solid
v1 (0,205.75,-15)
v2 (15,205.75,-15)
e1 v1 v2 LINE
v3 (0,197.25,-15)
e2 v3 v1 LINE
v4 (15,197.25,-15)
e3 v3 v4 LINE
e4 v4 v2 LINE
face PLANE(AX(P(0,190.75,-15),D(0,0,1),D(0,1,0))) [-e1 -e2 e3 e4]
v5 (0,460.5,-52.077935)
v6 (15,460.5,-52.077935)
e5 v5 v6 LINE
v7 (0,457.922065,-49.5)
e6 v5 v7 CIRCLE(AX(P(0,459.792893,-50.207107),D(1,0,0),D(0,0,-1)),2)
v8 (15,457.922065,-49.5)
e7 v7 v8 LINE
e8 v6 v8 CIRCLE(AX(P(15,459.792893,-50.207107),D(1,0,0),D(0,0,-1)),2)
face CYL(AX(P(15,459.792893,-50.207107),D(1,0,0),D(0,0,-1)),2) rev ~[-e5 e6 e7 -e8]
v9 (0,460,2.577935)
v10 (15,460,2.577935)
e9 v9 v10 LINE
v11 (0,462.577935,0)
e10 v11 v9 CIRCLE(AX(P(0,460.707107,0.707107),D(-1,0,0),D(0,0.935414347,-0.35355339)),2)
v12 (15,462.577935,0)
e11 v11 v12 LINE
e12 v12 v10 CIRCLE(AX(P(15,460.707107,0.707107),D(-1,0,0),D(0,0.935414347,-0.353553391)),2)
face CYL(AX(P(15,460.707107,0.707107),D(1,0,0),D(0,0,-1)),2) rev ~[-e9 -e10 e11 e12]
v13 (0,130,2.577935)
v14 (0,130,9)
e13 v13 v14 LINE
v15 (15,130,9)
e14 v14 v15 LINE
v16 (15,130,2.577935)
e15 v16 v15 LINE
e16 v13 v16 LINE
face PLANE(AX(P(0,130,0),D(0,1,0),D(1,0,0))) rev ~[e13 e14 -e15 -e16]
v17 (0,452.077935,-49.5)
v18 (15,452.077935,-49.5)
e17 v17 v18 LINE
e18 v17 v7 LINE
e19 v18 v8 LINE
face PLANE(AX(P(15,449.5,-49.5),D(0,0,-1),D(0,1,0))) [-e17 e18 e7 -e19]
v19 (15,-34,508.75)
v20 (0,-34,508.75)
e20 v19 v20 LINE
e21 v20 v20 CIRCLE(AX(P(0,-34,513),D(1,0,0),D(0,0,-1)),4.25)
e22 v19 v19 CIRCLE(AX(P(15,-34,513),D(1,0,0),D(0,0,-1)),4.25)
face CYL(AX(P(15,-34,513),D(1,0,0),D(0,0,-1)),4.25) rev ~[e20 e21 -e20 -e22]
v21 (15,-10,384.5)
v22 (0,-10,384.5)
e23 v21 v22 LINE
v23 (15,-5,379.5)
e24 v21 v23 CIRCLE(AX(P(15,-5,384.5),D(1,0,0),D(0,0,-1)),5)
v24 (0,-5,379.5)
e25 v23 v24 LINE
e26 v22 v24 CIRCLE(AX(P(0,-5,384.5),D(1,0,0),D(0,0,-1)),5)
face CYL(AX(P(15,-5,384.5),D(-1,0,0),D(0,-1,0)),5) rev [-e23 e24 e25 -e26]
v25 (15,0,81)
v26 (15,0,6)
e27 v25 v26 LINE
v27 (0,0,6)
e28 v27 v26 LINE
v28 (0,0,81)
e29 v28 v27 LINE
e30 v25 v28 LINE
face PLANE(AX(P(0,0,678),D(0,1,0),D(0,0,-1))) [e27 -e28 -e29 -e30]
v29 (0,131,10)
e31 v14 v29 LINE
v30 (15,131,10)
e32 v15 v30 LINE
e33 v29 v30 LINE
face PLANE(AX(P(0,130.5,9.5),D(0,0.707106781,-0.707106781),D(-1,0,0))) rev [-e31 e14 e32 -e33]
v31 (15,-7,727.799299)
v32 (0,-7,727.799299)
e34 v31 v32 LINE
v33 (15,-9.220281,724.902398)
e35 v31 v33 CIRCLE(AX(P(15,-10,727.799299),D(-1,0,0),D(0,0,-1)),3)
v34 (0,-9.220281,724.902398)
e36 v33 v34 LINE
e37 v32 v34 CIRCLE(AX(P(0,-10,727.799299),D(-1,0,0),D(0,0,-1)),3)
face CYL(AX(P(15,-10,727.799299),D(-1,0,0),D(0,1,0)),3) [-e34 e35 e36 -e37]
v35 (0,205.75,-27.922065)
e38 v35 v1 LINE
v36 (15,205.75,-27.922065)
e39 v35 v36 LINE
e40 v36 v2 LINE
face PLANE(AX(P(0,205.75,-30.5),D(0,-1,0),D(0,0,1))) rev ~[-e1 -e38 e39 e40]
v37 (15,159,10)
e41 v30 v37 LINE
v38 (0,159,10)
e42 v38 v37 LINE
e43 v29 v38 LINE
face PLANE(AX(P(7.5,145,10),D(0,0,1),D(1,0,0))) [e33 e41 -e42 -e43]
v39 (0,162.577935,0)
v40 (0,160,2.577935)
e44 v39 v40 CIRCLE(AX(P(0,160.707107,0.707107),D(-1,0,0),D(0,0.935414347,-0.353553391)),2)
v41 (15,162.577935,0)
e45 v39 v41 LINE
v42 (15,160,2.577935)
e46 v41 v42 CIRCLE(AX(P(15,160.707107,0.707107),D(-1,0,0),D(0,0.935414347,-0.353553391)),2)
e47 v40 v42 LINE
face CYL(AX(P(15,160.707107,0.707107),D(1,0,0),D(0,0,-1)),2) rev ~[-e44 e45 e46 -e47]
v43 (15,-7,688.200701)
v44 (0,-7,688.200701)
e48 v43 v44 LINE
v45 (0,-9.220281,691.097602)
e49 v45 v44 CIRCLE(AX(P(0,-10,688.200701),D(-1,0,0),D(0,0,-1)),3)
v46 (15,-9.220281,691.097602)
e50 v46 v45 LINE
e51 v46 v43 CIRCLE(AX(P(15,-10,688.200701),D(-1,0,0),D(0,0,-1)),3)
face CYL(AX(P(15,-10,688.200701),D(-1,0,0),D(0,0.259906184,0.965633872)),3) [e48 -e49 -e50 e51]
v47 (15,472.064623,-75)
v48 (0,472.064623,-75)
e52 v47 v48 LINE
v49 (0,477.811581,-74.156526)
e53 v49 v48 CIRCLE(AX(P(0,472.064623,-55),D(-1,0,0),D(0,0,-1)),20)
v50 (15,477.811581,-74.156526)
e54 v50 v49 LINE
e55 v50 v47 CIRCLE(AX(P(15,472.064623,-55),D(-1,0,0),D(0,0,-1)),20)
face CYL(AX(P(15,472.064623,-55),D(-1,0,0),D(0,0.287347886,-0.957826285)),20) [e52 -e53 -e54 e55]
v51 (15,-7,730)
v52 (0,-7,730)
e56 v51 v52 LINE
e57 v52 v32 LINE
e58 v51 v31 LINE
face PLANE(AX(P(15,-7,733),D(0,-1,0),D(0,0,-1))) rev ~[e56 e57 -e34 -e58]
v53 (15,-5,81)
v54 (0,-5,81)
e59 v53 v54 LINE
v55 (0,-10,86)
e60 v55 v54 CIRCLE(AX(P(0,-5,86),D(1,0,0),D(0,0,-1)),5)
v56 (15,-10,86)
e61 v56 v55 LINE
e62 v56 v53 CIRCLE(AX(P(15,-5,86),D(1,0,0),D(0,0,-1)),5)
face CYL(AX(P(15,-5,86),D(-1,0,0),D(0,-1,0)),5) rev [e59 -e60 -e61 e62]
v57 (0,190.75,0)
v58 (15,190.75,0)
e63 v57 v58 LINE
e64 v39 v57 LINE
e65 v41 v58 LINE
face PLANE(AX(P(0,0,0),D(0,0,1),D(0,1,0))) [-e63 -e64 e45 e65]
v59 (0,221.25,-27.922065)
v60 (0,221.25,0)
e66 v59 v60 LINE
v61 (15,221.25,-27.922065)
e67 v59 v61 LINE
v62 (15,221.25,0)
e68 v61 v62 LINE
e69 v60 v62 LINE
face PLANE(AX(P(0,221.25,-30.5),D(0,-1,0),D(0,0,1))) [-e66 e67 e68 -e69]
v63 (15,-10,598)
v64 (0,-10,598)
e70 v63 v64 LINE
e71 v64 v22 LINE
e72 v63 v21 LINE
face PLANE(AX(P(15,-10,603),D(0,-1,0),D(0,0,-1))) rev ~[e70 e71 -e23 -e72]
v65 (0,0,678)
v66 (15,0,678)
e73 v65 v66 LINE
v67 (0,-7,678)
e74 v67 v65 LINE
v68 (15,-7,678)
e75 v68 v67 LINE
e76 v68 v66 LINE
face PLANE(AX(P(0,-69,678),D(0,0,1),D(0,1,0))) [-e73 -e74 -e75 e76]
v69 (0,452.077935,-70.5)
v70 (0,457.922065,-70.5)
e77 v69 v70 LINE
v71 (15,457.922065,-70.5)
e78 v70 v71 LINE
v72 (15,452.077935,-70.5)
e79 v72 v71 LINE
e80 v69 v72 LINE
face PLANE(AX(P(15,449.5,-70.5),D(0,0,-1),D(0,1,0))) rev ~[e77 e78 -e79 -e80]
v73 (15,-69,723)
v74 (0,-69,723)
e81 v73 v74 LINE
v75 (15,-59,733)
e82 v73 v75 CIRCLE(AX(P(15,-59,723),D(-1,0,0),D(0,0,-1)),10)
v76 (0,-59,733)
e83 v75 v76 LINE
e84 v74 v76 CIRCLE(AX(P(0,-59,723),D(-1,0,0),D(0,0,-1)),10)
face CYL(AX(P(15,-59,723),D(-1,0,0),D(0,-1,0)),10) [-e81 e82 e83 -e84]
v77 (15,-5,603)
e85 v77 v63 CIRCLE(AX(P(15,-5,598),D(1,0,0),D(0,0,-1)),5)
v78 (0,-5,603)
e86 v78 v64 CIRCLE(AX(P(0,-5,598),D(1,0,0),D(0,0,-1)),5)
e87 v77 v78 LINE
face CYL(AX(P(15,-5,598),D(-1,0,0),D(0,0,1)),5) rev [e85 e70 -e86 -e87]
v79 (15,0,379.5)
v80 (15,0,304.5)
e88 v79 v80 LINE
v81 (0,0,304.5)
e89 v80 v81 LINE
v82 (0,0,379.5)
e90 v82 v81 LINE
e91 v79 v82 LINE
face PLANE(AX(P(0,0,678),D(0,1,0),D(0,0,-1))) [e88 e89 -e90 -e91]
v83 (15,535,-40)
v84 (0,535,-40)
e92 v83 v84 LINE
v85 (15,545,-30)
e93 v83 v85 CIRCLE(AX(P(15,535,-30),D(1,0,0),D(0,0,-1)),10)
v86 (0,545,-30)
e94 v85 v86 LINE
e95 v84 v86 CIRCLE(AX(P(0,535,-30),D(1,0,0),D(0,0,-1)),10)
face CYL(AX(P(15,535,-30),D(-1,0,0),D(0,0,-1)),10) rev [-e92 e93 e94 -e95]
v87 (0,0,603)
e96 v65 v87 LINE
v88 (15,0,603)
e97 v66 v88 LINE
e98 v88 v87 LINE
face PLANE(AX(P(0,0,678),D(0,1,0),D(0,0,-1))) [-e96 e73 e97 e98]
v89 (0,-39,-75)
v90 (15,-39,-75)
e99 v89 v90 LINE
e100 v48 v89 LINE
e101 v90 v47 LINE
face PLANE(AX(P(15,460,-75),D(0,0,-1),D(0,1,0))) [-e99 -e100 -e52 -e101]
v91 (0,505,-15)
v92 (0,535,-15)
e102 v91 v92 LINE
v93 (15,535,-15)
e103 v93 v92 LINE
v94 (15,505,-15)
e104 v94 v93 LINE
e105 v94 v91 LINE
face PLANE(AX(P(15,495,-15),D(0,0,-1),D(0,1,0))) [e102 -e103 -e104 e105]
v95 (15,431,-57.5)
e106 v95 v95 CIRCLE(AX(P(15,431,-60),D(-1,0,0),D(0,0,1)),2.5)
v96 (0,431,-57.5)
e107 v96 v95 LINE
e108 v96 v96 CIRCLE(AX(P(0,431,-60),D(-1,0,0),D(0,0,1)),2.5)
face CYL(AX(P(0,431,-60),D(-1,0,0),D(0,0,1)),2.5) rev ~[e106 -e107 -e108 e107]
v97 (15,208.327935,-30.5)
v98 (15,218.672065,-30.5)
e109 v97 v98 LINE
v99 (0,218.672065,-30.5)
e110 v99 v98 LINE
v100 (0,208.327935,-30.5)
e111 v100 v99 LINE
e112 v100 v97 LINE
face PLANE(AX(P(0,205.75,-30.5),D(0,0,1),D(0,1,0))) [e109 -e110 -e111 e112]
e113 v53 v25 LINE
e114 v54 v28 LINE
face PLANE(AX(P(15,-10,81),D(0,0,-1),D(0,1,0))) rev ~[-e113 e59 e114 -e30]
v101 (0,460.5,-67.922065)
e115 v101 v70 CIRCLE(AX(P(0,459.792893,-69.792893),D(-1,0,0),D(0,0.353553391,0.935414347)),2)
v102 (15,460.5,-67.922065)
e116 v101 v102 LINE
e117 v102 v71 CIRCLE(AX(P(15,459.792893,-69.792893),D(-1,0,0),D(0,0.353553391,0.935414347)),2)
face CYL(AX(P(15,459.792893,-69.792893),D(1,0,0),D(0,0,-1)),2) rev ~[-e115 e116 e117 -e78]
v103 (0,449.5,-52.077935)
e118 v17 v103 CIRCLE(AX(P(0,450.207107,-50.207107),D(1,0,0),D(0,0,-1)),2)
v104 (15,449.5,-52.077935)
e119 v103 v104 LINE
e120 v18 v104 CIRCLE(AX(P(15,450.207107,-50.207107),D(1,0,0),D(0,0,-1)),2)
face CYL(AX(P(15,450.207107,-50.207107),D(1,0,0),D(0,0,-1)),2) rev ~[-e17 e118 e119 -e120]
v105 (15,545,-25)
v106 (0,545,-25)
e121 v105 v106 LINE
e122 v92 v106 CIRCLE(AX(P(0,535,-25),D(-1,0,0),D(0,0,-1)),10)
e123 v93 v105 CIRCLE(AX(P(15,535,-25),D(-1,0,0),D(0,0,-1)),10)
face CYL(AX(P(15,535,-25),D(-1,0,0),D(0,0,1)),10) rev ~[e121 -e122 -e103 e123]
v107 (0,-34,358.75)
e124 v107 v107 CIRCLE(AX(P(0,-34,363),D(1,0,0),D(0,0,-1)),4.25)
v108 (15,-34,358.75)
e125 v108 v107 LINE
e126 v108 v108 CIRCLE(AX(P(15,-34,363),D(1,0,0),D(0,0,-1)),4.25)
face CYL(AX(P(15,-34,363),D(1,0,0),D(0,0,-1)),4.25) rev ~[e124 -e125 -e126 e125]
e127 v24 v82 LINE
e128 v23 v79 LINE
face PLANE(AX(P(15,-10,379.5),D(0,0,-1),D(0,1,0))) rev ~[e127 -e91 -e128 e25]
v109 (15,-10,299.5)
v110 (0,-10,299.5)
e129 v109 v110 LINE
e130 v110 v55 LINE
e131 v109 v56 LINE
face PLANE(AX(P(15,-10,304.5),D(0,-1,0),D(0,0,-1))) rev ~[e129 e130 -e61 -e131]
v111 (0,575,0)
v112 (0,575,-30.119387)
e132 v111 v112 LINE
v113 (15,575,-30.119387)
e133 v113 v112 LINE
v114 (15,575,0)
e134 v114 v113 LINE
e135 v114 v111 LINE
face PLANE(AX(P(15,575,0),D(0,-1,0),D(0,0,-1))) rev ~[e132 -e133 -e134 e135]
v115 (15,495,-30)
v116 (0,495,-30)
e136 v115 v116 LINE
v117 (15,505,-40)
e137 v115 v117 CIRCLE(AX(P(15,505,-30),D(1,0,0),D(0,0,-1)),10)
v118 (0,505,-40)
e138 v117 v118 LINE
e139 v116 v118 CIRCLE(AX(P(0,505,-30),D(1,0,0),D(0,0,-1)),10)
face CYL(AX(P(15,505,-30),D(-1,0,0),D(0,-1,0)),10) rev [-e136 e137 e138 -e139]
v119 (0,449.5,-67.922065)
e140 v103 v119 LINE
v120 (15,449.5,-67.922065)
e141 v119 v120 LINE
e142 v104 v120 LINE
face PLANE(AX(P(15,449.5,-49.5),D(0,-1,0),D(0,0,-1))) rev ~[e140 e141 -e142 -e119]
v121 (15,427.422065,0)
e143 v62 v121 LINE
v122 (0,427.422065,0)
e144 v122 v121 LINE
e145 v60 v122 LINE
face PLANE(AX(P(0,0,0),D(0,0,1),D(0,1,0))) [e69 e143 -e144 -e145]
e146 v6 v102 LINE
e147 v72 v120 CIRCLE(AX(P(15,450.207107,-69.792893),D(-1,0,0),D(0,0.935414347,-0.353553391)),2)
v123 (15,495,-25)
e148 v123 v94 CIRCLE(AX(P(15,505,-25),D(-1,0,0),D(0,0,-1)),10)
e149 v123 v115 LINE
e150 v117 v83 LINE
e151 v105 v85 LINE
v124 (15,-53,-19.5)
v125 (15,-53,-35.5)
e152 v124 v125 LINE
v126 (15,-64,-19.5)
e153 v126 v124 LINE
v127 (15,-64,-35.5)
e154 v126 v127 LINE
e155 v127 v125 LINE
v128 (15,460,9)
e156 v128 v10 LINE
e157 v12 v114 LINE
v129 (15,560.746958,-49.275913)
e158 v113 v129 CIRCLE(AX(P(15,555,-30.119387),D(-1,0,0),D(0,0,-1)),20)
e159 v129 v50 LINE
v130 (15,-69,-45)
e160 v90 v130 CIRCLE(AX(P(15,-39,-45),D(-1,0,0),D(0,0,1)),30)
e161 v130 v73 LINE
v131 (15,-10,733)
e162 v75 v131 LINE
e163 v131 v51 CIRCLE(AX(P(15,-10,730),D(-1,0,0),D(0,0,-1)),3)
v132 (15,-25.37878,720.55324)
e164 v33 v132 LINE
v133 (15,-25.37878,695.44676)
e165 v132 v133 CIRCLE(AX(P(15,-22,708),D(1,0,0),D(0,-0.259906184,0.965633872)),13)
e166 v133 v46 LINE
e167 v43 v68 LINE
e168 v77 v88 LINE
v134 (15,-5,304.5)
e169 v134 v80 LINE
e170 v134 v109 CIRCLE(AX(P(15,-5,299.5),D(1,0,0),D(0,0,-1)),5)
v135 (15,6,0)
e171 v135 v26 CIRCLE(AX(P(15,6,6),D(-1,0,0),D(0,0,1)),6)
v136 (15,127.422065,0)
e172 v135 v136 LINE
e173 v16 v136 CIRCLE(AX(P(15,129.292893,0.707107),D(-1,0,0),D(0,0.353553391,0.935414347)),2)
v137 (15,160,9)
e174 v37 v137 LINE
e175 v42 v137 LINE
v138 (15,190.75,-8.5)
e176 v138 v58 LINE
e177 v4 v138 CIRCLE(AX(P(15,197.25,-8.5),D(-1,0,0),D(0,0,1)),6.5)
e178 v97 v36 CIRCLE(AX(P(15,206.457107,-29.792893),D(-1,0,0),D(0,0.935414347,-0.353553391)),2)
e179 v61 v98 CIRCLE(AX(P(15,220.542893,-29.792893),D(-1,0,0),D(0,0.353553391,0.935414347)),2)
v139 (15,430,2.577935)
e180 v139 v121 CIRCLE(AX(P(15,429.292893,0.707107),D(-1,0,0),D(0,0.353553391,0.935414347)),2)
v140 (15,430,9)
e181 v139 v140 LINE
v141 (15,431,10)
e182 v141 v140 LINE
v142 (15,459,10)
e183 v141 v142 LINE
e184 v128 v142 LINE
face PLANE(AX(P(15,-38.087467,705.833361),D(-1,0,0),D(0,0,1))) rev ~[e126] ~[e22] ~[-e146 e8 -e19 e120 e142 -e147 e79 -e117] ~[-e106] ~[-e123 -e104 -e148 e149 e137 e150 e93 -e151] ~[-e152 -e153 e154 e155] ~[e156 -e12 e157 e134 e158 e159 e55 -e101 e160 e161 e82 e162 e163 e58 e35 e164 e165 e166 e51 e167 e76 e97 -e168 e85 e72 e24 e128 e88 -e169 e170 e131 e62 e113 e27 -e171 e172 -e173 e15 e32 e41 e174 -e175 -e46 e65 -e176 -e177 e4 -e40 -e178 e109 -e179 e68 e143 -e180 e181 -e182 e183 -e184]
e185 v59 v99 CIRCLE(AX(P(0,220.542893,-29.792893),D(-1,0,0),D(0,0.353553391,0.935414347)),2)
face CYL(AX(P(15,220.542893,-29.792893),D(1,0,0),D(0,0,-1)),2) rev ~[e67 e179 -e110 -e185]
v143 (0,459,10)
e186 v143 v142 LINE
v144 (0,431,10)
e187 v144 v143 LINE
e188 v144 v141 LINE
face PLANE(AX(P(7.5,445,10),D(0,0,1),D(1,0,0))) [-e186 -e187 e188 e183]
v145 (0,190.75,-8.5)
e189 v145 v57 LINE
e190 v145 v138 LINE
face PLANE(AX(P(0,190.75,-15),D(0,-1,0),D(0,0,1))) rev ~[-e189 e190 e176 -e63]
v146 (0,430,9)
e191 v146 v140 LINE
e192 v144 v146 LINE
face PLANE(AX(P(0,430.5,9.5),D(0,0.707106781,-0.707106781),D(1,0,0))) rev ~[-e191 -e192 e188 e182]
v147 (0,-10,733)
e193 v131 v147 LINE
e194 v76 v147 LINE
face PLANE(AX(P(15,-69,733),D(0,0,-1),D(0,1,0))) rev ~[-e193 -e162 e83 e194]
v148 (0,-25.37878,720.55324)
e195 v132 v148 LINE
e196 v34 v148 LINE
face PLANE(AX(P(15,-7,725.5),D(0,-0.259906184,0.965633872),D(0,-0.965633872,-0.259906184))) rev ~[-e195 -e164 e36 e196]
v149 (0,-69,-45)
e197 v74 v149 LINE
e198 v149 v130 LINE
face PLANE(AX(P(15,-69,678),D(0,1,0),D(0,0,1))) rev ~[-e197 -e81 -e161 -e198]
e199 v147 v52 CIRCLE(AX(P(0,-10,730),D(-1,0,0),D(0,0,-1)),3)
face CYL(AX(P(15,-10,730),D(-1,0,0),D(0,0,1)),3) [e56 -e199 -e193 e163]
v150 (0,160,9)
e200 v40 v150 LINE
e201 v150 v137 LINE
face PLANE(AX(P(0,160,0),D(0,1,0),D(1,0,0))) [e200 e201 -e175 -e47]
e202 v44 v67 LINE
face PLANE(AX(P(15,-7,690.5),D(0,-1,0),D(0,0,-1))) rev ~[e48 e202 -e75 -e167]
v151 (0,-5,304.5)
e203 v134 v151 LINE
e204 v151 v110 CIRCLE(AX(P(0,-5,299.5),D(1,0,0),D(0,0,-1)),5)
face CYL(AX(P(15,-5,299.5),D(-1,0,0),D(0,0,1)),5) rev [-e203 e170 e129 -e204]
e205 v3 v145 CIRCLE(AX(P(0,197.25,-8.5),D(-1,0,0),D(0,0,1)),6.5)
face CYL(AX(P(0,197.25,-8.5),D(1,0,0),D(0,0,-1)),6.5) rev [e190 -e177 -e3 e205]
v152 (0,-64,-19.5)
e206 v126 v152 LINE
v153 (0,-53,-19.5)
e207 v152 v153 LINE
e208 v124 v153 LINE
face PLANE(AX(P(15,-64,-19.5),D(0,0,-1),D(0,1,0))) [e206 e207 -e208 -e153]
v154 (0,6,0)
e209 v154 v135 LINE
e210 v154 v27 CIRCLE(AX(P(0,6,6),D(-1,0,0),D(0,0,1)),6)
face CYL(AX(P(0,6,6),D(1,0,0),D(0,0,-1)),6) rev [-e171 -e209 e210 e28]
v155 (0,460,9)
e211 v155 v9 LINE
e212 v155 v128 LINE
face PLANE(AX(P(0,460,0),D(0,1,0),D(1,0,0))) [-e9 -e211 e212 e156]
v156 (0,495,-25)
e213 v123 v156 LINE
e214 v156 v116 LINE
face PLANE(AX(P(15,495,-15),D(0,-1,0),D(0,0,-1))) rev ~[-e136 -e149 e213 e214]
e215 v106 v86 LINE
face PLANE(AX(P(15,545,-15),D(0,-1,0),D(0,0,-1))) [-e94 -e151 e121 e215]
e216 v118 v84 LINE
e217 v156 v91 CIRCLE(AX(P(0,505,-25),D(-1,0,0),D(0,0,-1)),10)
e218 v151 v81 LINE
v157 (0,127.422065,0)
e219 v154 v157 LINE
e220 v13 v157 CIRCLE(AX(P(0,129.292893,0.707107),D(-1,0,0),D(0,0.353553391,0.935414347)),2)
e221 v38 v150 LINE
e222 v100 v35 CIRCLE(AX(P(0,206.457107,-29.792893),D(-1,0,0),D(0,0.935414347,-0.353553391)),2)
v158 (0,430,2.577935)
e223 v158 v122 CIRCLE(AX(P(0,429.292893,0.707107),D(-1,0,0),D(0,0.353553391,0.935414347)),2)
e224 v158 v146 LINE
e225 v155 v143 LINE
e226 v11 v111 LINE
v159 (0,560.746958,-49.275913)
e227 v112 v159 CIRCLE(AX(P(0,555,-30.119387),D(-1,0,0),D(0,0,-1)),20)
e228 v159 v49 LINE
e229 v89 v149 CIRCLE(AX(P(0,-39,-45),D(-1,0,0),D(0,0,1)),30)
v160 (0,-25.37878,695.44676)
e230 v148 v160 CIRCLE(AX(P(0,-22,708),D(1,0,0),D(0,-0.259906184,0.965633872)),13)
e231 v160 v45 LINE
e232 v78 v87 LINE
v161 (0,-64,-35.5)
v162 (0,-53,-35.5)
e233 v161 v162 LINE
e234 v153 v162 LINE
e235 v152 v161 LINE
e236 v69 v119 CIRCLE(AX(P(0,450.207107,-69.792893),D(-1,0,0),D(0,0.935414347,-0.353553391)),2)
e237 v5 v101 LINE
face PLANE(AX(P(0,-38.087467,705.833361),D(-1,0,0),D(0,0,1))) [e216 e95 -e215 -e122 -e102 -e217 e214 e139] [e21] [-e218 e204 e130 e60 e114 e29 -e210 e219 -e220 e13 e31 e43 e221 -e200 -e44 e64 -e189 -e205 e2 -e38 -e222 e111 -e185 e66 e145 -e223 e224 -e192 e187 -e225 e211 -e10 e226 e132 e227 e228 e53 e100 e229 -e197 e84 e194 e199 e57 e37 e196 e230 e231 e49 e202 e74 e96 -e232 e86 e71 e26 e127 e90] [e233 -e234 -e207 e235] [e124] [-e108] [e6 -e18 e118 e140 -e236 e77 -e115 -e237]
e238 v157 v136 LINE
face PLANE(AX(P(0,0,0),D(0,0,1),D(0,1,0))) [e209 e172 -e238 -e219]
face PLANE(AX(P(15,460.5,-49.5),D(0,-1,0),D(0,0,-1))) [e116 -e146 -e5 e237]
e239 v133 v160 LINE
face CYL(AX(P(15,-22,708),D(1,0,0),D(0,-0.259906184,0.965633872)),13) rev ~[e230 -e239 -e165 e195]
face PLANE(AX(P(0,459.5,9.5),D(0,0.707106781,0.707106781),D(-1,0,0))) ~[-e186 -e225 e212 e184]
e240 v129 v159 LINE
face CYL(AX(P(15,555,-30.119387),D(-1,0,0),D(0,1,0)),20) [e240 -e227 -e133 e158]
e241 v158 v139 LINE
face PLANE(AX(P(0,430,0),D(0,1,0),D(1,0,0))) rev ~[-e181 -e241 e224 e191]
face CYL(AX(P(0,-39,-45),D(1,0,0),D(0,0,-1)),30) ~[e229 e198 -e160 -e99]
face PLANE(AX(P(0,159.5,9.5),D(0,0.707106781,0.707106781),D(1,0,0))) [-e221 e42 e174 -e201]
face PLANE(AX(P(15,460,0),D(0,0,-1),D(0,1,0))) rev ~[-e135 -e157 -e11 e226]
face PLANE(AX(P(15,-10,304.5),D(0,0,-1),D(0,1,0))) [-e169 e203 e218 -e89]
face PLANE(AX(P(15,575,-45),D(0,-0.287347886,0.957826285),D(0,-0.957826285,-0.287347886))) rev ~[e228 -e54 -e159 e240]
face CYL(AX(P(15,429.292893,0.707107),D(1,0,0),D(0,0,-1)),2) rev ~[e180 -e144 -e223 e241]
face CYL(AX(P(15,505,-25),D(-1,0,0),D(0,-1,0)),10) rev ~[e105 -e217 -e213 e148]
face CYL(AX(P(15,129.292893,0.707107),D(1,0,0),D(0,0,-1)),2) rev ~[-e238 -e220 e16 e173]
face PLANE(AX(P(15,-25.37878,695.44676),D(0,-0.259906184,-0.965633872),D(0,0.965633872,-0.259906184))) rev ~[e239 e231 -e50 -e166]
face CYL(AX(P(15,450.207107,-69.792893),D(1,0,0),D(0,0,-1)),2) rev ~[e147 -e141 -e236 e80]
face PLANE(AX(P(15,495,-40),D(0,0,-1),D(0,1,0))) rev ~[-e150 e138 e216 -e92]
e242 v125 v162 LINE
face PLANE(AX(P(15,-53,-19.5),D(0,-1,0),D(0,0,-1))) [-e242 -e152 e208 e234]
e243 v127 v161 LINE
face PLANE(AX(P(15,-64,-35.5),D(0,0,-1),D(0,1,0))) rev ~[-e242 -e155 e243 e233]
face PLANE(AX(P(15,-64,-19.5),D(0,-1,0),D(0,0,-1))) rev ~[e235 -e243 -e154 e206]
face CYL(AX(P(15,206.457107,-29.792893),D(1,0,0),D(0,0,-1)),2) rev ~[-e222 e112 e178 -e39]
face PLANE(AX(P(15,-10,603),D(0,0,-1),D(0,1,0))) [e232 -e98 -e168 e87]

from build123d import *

# Parameters (mm, degrees)
BOSS_EXTRUDE1_DEPTH = 15
FILLET1_R           = 30
FILLET2_R           = 6
SKETCH3_W           = 30.5
SKETCH3_H           = 15.5
CUT_EXTRUDE2_DEPTH  = 820.456527218
SKETCH6_W           = 15
SKETCH6_H           = 30
BOSS_EXTRUDE2_DEPTH = 10
SKETCH7_W           = 15
SKETCH7_H           = 15
CUT_EXTRUDE5_DEPTH  = 820.456527218
FILLET4_R           = 6.5
SKETCH9_W           = 75
SKETCH9_H           = 115
BOSS_EXTRUDE3_DEPTH = 15
SKETCH8_W           = 21
SKETCH8_H           = 11
CUT_EXTRUDE6_DEPTH  = 890.119789455
CUT_EXTRUDE7_DEPTH  = 15
SKETCH11_W          = 25
SKETCH11_H          = 50
CUT_EXTRUDE8_DEPTH  = 15
SKETCH5_R           = 2.5
CUT_EXTRUDE4_DEPTH  = 890.119789455
FILLET5_R           = 20
FILLET6_R           = 10
CHAMFER1_SIZE       = 1
SKETCH12_W          = 16
SKETCH12_H          = 11
CUT_EXTRUDE9_DEPTH  = 890.119789455
SKETCH14_W          = 223.5
SKETCH14_H          = 10
CUT_EXTRUDE11_DEPTH = 15
FILLET8_R           = 5
SKETCH15_R          = 2
CUT_EXTRUDE12_DEPTH = 890.119789455
SKETCH16_R          = 2
CUT_EXTRUDE13_DEPTH = 890.119789455
SKETCH17_R          = 2
CUT_EXTRUDE14_DEPTH = 890.119789455
BOSS_EXTRUDE4_DEPTH = 15
FILLET9_R           = 10
FILLET10_R          = 3
SKETCH19_R          = 4.25
CUT_EXTRUDE15_DEPTH = 932.739770537


with BuildPart() as part:
    # Sketch1 → Boss-Extrude1 (new body)
    with BuildSketch(Plane(origin=(0, 0, 0), x_dir=(0, 0, -1), z_dir=(1, 0, 0))):
        Polygon((-678, 0), (0, 0), (0, 460), (75, 460), (75, -69), (-678, -69), align=None)
    extrude(amount=BOSS_EXTRUDE1_DEPTH)

    # Fillet1
    fillet1_edges = [part.edges().sort_by_distance(p)[0] for p in [
        (7.5, -69, -75),
    ]]
    fillet(fillet1_edges, radius=FILLET1_R)

    # Fillet2
    fillet2_edges = [part.edges().sort_by_distance(p)[0] for p in [
        (7.5, 0, 0),
    ]]
    fillet(fillet2_edges, radius=FILLET2_R)

    # Sketch3 → Cut-Extrude2 (cut, through all)
    with BuildSketch(Plane.ZY):
        with Locations((-15.25, 213.5)):
            Rectangle(SKETCH3_W, SKETCH3_H)
    extrude(amount=-CUT_EXTRUDE2_DEPTH, mode=Mode.SUBTRACT)

    # Sketch6 → Boss-Extrude2 (add)
    with BuildSketch(Plane.XY):
        with Locations((7.5, 445)):
            Rectangle(SKETCH6_W, SKETCH6_H)
        with Locations((7.5, 145)):
            Rectangle(SKETCH6_W, SKETCH6_H)
    extrude(amount=BOSS_EXTRUDE2_DEPTH)

    # Sketch7 → Cut-Extrude5 (cut, through all)
    with BuildSketch(Plane.ZY):
        with Locations((-7.5, 198.25)):
            Rectangle(SKETCH7_W, SKETCH7_H)
    extrude(amount=-CUT_EXTRUDE5_DEPTH, mode=Mode.SUBTRACT)

    # Fillet4
    fillet4_edges = [part.edges().sort_by_distance(p)[0] for p in [
        (7.5, 190.75, -15),
    ]]
    fillet(fillet4_edges, radius=FILLET4_R)

    # Sketch9 → Boss-Extrude3 (add)
    with BuildSketch(Plane(origin=(15, 0, 0), x_dir=(0, 0, -1), z_dir=(1, 0, 0))):
        with Locations((37.5, 517.5)):
            Rectangle(SKETCH9_W, SKETCH9_H)
    extrude(amount=-BOSS_EXTRUDE3_DEPTH)

    # Sketch8 → Cut-Extrude6 (cut, through all)
    with BuildSketch(Plane(origin=(15, 0, 0), x_dir=(0, 0, -1), z_dir=(1, 0, 0))):
        with Locations((60, 455)):
            Rectangle(SKETCH8_W, SKETCH8_H)
    extrude(amount=-CUT_EXTRUDE6_DEPTH, mode=Mode.SUBTRACT)

    # Sketch10 → Cut-Extrude7 (cut)
    with BuildSketch(Plane(origin=(15, 0, 0), x_dir=(0, 0, -1), z_dir=(1, 0, 0))):
        Polygon((45, 575), (75, 475), (75, 575), align=None)
    extrude(amount=-CUT_EXTRUDE7_DEPTH, mode=Mode.SUBTRACT)

    # Sketch11 → Cut-Extrude8 (cut)
    with BuildSketch(Plane(origin=(15, 0, 0), x_dir=(0, 0, -1), z_dir=(1, 0, 0))):
        with Locations((27.5, 520)):
            Rectangle(SKETCH11_W, SKETCH11_H)
    extrude(amount=-CUT_EXTRUDE8_DEPTH, mode=Mode.SUBTRACT)

    # Sketch5 → Cut-Extrude4 (cut, through all)
    with BuildSketch(Plane.ZY):
        with Locations((-60, 431)):
            Circle(SKETCH5_R)
    extrude(amount=-CUT_EXTRUDE4_DEPTH, mode=Mode.SUBTRACT)

    # Fillet5
    fillet5_edges = [part.edges().sort_by_distance(p)[0] for p in [
        (7.5, 575, -45),
        (7.5, 475, -75),
    ]]
    fillet(fillet5_edges, radius=FILLET5_R)

    # Fillet6
    fillet6_edges = [part.edges().sort_by_distance(p)[0] for p in [
        (7.5, 495, -15),
        (7.5, 545, -15),
        (7.5, 545, -40),
        (7.5, 495, -40),
    ]]
    fillet(fillet6_edges, radius=FILLET6_R)

    # Chamfer1
    chamfer1_edges = [part.edges().sort_by_distance(p)[0] for p in [
        (7.5, 430, 10),
        (7.5, 460, 10),
        (7.5, 130, 10),
        (7.5, 160, 10),
    ]]
    chamfer(chamfer1_edges, length=CHAMFER1_SIZE)

    # Sketch12 → Cut-Extrude9 (cut, through all)
    with BuildSketch(Plane(origin=(15, 0, 0), x_dir=(0, 0, -1), z_dir=(1, 0, 0))):
        with Locations((27.5, -58.5)):
            Rectangle(SKETCH12_W, SKETCH12_H)
    extrude(amount=-CUT_EXTRUDE9_DEPTH, mode=Mode.SUBTRACT)

    # Sketch14 → Cut-Extrude11 (cut)
    with BuildSketch(Plane(origin=(15, 0, 0), x_dir=(0, 0, -1), z_dir=(1, 0, 0))):
        with Locations((-491.25, -5)):
            Rectangle(SKETCH14_W, SKETCH14_H)
        with Locations((-192.75, -5)):
            Rectangle(SKETCH14_W, SKETCH14_H)
    extrude(amount=-CUT_EXTRUDE11_DEPTH, mode=Mode.SUBTRACT)

    # Fillet8
    fillet8_edges = [part.edges().sort_by_distance(p)[0] for p in [
        (7.5, -10, 603),
        (7.5, -10, 379.5),
        (7.5, -10, 81),
        (7.5, -10, 304.5),
    ]]
    fillet(fillet8_edges, radius=FILLET8_R)

    # Sketch15 → Cut-Extrude12 (cut, through all)
    with BuildSketch(Plane(origin=(15, 0, 0), x_dir=(0, 0, -1), z_dir=(1, 0, 0))):
        with Locations((-0.707106781, 129.292893219)):
            Circle(SKETCH15_R)
        with Locations((-0.707106781, 160.707106781)):
            Circle(SKETCH15_R)
        with Locations((-0.707106781, 429.292893219)):
            Circle(SKETCH15_R)
        with Locations((-0.707106781, 460.707106781)):
            Circle(SKETCH15_R)
    extrude(amount=-CUT_EXTRUDE12_DEPTH, mode=Mode.SUBTRACT)

    # Sketch16 → Cut-Extrude13 (cut, through all)
    with BuildSketch(Plane(origin=(15, 0, 0), x_dir=(0, 0, -1), z_dir=(1, 0, 0))):
        with Locations((50.207106781, 450.207106781)):
            Circle(SKETCH16_R)
        with Locations((50.207106781, 459.792893219)):
            Circle(SKETCH16_R)
        with Locations((69.792893219, 459.792893219)):
            Circle(SKETCH16_R)
        with Locations((69.792893219, 450.207106781)):
            Circle(SKETCH16_R)
    extrude(amount=-CUT_EXTRUDE13_DEPTH, mode=Mode.SUBTRACT)

    # Sketch17 → Cut-Extrude14 (cut, through all)
    with BuildSketch(Plane(origin=(15, 0, 0), x_dir=(0, 0, -1), z_dir=(1, 0, 0))):
        with Locations((29.792893219, 206.457106781)):
            Circle(SKETCH17_R)
        with Locations((29.792893219, 220.542893219)):
            Circle(SKETCH17_R)
    extrude(amount=-CUT_EXTRUDE14_DEPTH, mode=Mode.SUBTRACT)

    # Sketch18 → Boss-Extrude4 (add)
    with BuildSketch(Plane(origin=(15, 0, 0), x_dir=(0, 0, -1), z_dir=(1, 0, 0))):
        with BuildLine():
            Line((-678, -69), (-733, -69))
            Line((-733, -69), (-733, -7))
            Line((-733, -7), (-725.5, -7))
            Line((-725.5, -7), (-720.55324034, -25.378780397))
            ThreePointArc((-720.55324034, -25.378780397), (-708, -35), (-695.44675966, -25.378780397))
            Line((-695.44675966, -25.378780397), (-690.5, -7))
            Line((-690.5, -7), (-678, -7))
            Line((-678, -7), (-678, -69))
        make_face()
    extrude(amount=-BOSS_EXTRUDE4_DEPTH)

    # Fillet9
    fillet9_edges = [part.edges().sort_by_distance(p)[0] for p in [
        (7.5, -69, 733),
    ]]
    fillet(fillet9_edges, radius=FILLET9_R)

    # Fillet10
    fillet10_edges = [part.edges().sort_by_distance(p)[0] for p in [
        (7.5, -7, 733),
        (7.5, -7, 725.5),
        (7.5, -7, 690.5),
    ]]
    fillet(fillet10_edges, radius=FILLET10_R)

    # Sketch19 → Cut-Extrude15 (cut, through all)
    with BuildSketch(Plane(origin=(15, 0, 0), x_dir=(0, 0, -1), z_dir=(1, 0, 0))):
        with Locations((-513, -34)):
            Circle(SKETCH19_R)
        with Locations((-363, -34)):
            Circle(SKETCH19_R)
    extrude(amount=-CUT_EXTRUDE15_DEPTH, mode=Mode.SUBTRACT)


solid = part.part
